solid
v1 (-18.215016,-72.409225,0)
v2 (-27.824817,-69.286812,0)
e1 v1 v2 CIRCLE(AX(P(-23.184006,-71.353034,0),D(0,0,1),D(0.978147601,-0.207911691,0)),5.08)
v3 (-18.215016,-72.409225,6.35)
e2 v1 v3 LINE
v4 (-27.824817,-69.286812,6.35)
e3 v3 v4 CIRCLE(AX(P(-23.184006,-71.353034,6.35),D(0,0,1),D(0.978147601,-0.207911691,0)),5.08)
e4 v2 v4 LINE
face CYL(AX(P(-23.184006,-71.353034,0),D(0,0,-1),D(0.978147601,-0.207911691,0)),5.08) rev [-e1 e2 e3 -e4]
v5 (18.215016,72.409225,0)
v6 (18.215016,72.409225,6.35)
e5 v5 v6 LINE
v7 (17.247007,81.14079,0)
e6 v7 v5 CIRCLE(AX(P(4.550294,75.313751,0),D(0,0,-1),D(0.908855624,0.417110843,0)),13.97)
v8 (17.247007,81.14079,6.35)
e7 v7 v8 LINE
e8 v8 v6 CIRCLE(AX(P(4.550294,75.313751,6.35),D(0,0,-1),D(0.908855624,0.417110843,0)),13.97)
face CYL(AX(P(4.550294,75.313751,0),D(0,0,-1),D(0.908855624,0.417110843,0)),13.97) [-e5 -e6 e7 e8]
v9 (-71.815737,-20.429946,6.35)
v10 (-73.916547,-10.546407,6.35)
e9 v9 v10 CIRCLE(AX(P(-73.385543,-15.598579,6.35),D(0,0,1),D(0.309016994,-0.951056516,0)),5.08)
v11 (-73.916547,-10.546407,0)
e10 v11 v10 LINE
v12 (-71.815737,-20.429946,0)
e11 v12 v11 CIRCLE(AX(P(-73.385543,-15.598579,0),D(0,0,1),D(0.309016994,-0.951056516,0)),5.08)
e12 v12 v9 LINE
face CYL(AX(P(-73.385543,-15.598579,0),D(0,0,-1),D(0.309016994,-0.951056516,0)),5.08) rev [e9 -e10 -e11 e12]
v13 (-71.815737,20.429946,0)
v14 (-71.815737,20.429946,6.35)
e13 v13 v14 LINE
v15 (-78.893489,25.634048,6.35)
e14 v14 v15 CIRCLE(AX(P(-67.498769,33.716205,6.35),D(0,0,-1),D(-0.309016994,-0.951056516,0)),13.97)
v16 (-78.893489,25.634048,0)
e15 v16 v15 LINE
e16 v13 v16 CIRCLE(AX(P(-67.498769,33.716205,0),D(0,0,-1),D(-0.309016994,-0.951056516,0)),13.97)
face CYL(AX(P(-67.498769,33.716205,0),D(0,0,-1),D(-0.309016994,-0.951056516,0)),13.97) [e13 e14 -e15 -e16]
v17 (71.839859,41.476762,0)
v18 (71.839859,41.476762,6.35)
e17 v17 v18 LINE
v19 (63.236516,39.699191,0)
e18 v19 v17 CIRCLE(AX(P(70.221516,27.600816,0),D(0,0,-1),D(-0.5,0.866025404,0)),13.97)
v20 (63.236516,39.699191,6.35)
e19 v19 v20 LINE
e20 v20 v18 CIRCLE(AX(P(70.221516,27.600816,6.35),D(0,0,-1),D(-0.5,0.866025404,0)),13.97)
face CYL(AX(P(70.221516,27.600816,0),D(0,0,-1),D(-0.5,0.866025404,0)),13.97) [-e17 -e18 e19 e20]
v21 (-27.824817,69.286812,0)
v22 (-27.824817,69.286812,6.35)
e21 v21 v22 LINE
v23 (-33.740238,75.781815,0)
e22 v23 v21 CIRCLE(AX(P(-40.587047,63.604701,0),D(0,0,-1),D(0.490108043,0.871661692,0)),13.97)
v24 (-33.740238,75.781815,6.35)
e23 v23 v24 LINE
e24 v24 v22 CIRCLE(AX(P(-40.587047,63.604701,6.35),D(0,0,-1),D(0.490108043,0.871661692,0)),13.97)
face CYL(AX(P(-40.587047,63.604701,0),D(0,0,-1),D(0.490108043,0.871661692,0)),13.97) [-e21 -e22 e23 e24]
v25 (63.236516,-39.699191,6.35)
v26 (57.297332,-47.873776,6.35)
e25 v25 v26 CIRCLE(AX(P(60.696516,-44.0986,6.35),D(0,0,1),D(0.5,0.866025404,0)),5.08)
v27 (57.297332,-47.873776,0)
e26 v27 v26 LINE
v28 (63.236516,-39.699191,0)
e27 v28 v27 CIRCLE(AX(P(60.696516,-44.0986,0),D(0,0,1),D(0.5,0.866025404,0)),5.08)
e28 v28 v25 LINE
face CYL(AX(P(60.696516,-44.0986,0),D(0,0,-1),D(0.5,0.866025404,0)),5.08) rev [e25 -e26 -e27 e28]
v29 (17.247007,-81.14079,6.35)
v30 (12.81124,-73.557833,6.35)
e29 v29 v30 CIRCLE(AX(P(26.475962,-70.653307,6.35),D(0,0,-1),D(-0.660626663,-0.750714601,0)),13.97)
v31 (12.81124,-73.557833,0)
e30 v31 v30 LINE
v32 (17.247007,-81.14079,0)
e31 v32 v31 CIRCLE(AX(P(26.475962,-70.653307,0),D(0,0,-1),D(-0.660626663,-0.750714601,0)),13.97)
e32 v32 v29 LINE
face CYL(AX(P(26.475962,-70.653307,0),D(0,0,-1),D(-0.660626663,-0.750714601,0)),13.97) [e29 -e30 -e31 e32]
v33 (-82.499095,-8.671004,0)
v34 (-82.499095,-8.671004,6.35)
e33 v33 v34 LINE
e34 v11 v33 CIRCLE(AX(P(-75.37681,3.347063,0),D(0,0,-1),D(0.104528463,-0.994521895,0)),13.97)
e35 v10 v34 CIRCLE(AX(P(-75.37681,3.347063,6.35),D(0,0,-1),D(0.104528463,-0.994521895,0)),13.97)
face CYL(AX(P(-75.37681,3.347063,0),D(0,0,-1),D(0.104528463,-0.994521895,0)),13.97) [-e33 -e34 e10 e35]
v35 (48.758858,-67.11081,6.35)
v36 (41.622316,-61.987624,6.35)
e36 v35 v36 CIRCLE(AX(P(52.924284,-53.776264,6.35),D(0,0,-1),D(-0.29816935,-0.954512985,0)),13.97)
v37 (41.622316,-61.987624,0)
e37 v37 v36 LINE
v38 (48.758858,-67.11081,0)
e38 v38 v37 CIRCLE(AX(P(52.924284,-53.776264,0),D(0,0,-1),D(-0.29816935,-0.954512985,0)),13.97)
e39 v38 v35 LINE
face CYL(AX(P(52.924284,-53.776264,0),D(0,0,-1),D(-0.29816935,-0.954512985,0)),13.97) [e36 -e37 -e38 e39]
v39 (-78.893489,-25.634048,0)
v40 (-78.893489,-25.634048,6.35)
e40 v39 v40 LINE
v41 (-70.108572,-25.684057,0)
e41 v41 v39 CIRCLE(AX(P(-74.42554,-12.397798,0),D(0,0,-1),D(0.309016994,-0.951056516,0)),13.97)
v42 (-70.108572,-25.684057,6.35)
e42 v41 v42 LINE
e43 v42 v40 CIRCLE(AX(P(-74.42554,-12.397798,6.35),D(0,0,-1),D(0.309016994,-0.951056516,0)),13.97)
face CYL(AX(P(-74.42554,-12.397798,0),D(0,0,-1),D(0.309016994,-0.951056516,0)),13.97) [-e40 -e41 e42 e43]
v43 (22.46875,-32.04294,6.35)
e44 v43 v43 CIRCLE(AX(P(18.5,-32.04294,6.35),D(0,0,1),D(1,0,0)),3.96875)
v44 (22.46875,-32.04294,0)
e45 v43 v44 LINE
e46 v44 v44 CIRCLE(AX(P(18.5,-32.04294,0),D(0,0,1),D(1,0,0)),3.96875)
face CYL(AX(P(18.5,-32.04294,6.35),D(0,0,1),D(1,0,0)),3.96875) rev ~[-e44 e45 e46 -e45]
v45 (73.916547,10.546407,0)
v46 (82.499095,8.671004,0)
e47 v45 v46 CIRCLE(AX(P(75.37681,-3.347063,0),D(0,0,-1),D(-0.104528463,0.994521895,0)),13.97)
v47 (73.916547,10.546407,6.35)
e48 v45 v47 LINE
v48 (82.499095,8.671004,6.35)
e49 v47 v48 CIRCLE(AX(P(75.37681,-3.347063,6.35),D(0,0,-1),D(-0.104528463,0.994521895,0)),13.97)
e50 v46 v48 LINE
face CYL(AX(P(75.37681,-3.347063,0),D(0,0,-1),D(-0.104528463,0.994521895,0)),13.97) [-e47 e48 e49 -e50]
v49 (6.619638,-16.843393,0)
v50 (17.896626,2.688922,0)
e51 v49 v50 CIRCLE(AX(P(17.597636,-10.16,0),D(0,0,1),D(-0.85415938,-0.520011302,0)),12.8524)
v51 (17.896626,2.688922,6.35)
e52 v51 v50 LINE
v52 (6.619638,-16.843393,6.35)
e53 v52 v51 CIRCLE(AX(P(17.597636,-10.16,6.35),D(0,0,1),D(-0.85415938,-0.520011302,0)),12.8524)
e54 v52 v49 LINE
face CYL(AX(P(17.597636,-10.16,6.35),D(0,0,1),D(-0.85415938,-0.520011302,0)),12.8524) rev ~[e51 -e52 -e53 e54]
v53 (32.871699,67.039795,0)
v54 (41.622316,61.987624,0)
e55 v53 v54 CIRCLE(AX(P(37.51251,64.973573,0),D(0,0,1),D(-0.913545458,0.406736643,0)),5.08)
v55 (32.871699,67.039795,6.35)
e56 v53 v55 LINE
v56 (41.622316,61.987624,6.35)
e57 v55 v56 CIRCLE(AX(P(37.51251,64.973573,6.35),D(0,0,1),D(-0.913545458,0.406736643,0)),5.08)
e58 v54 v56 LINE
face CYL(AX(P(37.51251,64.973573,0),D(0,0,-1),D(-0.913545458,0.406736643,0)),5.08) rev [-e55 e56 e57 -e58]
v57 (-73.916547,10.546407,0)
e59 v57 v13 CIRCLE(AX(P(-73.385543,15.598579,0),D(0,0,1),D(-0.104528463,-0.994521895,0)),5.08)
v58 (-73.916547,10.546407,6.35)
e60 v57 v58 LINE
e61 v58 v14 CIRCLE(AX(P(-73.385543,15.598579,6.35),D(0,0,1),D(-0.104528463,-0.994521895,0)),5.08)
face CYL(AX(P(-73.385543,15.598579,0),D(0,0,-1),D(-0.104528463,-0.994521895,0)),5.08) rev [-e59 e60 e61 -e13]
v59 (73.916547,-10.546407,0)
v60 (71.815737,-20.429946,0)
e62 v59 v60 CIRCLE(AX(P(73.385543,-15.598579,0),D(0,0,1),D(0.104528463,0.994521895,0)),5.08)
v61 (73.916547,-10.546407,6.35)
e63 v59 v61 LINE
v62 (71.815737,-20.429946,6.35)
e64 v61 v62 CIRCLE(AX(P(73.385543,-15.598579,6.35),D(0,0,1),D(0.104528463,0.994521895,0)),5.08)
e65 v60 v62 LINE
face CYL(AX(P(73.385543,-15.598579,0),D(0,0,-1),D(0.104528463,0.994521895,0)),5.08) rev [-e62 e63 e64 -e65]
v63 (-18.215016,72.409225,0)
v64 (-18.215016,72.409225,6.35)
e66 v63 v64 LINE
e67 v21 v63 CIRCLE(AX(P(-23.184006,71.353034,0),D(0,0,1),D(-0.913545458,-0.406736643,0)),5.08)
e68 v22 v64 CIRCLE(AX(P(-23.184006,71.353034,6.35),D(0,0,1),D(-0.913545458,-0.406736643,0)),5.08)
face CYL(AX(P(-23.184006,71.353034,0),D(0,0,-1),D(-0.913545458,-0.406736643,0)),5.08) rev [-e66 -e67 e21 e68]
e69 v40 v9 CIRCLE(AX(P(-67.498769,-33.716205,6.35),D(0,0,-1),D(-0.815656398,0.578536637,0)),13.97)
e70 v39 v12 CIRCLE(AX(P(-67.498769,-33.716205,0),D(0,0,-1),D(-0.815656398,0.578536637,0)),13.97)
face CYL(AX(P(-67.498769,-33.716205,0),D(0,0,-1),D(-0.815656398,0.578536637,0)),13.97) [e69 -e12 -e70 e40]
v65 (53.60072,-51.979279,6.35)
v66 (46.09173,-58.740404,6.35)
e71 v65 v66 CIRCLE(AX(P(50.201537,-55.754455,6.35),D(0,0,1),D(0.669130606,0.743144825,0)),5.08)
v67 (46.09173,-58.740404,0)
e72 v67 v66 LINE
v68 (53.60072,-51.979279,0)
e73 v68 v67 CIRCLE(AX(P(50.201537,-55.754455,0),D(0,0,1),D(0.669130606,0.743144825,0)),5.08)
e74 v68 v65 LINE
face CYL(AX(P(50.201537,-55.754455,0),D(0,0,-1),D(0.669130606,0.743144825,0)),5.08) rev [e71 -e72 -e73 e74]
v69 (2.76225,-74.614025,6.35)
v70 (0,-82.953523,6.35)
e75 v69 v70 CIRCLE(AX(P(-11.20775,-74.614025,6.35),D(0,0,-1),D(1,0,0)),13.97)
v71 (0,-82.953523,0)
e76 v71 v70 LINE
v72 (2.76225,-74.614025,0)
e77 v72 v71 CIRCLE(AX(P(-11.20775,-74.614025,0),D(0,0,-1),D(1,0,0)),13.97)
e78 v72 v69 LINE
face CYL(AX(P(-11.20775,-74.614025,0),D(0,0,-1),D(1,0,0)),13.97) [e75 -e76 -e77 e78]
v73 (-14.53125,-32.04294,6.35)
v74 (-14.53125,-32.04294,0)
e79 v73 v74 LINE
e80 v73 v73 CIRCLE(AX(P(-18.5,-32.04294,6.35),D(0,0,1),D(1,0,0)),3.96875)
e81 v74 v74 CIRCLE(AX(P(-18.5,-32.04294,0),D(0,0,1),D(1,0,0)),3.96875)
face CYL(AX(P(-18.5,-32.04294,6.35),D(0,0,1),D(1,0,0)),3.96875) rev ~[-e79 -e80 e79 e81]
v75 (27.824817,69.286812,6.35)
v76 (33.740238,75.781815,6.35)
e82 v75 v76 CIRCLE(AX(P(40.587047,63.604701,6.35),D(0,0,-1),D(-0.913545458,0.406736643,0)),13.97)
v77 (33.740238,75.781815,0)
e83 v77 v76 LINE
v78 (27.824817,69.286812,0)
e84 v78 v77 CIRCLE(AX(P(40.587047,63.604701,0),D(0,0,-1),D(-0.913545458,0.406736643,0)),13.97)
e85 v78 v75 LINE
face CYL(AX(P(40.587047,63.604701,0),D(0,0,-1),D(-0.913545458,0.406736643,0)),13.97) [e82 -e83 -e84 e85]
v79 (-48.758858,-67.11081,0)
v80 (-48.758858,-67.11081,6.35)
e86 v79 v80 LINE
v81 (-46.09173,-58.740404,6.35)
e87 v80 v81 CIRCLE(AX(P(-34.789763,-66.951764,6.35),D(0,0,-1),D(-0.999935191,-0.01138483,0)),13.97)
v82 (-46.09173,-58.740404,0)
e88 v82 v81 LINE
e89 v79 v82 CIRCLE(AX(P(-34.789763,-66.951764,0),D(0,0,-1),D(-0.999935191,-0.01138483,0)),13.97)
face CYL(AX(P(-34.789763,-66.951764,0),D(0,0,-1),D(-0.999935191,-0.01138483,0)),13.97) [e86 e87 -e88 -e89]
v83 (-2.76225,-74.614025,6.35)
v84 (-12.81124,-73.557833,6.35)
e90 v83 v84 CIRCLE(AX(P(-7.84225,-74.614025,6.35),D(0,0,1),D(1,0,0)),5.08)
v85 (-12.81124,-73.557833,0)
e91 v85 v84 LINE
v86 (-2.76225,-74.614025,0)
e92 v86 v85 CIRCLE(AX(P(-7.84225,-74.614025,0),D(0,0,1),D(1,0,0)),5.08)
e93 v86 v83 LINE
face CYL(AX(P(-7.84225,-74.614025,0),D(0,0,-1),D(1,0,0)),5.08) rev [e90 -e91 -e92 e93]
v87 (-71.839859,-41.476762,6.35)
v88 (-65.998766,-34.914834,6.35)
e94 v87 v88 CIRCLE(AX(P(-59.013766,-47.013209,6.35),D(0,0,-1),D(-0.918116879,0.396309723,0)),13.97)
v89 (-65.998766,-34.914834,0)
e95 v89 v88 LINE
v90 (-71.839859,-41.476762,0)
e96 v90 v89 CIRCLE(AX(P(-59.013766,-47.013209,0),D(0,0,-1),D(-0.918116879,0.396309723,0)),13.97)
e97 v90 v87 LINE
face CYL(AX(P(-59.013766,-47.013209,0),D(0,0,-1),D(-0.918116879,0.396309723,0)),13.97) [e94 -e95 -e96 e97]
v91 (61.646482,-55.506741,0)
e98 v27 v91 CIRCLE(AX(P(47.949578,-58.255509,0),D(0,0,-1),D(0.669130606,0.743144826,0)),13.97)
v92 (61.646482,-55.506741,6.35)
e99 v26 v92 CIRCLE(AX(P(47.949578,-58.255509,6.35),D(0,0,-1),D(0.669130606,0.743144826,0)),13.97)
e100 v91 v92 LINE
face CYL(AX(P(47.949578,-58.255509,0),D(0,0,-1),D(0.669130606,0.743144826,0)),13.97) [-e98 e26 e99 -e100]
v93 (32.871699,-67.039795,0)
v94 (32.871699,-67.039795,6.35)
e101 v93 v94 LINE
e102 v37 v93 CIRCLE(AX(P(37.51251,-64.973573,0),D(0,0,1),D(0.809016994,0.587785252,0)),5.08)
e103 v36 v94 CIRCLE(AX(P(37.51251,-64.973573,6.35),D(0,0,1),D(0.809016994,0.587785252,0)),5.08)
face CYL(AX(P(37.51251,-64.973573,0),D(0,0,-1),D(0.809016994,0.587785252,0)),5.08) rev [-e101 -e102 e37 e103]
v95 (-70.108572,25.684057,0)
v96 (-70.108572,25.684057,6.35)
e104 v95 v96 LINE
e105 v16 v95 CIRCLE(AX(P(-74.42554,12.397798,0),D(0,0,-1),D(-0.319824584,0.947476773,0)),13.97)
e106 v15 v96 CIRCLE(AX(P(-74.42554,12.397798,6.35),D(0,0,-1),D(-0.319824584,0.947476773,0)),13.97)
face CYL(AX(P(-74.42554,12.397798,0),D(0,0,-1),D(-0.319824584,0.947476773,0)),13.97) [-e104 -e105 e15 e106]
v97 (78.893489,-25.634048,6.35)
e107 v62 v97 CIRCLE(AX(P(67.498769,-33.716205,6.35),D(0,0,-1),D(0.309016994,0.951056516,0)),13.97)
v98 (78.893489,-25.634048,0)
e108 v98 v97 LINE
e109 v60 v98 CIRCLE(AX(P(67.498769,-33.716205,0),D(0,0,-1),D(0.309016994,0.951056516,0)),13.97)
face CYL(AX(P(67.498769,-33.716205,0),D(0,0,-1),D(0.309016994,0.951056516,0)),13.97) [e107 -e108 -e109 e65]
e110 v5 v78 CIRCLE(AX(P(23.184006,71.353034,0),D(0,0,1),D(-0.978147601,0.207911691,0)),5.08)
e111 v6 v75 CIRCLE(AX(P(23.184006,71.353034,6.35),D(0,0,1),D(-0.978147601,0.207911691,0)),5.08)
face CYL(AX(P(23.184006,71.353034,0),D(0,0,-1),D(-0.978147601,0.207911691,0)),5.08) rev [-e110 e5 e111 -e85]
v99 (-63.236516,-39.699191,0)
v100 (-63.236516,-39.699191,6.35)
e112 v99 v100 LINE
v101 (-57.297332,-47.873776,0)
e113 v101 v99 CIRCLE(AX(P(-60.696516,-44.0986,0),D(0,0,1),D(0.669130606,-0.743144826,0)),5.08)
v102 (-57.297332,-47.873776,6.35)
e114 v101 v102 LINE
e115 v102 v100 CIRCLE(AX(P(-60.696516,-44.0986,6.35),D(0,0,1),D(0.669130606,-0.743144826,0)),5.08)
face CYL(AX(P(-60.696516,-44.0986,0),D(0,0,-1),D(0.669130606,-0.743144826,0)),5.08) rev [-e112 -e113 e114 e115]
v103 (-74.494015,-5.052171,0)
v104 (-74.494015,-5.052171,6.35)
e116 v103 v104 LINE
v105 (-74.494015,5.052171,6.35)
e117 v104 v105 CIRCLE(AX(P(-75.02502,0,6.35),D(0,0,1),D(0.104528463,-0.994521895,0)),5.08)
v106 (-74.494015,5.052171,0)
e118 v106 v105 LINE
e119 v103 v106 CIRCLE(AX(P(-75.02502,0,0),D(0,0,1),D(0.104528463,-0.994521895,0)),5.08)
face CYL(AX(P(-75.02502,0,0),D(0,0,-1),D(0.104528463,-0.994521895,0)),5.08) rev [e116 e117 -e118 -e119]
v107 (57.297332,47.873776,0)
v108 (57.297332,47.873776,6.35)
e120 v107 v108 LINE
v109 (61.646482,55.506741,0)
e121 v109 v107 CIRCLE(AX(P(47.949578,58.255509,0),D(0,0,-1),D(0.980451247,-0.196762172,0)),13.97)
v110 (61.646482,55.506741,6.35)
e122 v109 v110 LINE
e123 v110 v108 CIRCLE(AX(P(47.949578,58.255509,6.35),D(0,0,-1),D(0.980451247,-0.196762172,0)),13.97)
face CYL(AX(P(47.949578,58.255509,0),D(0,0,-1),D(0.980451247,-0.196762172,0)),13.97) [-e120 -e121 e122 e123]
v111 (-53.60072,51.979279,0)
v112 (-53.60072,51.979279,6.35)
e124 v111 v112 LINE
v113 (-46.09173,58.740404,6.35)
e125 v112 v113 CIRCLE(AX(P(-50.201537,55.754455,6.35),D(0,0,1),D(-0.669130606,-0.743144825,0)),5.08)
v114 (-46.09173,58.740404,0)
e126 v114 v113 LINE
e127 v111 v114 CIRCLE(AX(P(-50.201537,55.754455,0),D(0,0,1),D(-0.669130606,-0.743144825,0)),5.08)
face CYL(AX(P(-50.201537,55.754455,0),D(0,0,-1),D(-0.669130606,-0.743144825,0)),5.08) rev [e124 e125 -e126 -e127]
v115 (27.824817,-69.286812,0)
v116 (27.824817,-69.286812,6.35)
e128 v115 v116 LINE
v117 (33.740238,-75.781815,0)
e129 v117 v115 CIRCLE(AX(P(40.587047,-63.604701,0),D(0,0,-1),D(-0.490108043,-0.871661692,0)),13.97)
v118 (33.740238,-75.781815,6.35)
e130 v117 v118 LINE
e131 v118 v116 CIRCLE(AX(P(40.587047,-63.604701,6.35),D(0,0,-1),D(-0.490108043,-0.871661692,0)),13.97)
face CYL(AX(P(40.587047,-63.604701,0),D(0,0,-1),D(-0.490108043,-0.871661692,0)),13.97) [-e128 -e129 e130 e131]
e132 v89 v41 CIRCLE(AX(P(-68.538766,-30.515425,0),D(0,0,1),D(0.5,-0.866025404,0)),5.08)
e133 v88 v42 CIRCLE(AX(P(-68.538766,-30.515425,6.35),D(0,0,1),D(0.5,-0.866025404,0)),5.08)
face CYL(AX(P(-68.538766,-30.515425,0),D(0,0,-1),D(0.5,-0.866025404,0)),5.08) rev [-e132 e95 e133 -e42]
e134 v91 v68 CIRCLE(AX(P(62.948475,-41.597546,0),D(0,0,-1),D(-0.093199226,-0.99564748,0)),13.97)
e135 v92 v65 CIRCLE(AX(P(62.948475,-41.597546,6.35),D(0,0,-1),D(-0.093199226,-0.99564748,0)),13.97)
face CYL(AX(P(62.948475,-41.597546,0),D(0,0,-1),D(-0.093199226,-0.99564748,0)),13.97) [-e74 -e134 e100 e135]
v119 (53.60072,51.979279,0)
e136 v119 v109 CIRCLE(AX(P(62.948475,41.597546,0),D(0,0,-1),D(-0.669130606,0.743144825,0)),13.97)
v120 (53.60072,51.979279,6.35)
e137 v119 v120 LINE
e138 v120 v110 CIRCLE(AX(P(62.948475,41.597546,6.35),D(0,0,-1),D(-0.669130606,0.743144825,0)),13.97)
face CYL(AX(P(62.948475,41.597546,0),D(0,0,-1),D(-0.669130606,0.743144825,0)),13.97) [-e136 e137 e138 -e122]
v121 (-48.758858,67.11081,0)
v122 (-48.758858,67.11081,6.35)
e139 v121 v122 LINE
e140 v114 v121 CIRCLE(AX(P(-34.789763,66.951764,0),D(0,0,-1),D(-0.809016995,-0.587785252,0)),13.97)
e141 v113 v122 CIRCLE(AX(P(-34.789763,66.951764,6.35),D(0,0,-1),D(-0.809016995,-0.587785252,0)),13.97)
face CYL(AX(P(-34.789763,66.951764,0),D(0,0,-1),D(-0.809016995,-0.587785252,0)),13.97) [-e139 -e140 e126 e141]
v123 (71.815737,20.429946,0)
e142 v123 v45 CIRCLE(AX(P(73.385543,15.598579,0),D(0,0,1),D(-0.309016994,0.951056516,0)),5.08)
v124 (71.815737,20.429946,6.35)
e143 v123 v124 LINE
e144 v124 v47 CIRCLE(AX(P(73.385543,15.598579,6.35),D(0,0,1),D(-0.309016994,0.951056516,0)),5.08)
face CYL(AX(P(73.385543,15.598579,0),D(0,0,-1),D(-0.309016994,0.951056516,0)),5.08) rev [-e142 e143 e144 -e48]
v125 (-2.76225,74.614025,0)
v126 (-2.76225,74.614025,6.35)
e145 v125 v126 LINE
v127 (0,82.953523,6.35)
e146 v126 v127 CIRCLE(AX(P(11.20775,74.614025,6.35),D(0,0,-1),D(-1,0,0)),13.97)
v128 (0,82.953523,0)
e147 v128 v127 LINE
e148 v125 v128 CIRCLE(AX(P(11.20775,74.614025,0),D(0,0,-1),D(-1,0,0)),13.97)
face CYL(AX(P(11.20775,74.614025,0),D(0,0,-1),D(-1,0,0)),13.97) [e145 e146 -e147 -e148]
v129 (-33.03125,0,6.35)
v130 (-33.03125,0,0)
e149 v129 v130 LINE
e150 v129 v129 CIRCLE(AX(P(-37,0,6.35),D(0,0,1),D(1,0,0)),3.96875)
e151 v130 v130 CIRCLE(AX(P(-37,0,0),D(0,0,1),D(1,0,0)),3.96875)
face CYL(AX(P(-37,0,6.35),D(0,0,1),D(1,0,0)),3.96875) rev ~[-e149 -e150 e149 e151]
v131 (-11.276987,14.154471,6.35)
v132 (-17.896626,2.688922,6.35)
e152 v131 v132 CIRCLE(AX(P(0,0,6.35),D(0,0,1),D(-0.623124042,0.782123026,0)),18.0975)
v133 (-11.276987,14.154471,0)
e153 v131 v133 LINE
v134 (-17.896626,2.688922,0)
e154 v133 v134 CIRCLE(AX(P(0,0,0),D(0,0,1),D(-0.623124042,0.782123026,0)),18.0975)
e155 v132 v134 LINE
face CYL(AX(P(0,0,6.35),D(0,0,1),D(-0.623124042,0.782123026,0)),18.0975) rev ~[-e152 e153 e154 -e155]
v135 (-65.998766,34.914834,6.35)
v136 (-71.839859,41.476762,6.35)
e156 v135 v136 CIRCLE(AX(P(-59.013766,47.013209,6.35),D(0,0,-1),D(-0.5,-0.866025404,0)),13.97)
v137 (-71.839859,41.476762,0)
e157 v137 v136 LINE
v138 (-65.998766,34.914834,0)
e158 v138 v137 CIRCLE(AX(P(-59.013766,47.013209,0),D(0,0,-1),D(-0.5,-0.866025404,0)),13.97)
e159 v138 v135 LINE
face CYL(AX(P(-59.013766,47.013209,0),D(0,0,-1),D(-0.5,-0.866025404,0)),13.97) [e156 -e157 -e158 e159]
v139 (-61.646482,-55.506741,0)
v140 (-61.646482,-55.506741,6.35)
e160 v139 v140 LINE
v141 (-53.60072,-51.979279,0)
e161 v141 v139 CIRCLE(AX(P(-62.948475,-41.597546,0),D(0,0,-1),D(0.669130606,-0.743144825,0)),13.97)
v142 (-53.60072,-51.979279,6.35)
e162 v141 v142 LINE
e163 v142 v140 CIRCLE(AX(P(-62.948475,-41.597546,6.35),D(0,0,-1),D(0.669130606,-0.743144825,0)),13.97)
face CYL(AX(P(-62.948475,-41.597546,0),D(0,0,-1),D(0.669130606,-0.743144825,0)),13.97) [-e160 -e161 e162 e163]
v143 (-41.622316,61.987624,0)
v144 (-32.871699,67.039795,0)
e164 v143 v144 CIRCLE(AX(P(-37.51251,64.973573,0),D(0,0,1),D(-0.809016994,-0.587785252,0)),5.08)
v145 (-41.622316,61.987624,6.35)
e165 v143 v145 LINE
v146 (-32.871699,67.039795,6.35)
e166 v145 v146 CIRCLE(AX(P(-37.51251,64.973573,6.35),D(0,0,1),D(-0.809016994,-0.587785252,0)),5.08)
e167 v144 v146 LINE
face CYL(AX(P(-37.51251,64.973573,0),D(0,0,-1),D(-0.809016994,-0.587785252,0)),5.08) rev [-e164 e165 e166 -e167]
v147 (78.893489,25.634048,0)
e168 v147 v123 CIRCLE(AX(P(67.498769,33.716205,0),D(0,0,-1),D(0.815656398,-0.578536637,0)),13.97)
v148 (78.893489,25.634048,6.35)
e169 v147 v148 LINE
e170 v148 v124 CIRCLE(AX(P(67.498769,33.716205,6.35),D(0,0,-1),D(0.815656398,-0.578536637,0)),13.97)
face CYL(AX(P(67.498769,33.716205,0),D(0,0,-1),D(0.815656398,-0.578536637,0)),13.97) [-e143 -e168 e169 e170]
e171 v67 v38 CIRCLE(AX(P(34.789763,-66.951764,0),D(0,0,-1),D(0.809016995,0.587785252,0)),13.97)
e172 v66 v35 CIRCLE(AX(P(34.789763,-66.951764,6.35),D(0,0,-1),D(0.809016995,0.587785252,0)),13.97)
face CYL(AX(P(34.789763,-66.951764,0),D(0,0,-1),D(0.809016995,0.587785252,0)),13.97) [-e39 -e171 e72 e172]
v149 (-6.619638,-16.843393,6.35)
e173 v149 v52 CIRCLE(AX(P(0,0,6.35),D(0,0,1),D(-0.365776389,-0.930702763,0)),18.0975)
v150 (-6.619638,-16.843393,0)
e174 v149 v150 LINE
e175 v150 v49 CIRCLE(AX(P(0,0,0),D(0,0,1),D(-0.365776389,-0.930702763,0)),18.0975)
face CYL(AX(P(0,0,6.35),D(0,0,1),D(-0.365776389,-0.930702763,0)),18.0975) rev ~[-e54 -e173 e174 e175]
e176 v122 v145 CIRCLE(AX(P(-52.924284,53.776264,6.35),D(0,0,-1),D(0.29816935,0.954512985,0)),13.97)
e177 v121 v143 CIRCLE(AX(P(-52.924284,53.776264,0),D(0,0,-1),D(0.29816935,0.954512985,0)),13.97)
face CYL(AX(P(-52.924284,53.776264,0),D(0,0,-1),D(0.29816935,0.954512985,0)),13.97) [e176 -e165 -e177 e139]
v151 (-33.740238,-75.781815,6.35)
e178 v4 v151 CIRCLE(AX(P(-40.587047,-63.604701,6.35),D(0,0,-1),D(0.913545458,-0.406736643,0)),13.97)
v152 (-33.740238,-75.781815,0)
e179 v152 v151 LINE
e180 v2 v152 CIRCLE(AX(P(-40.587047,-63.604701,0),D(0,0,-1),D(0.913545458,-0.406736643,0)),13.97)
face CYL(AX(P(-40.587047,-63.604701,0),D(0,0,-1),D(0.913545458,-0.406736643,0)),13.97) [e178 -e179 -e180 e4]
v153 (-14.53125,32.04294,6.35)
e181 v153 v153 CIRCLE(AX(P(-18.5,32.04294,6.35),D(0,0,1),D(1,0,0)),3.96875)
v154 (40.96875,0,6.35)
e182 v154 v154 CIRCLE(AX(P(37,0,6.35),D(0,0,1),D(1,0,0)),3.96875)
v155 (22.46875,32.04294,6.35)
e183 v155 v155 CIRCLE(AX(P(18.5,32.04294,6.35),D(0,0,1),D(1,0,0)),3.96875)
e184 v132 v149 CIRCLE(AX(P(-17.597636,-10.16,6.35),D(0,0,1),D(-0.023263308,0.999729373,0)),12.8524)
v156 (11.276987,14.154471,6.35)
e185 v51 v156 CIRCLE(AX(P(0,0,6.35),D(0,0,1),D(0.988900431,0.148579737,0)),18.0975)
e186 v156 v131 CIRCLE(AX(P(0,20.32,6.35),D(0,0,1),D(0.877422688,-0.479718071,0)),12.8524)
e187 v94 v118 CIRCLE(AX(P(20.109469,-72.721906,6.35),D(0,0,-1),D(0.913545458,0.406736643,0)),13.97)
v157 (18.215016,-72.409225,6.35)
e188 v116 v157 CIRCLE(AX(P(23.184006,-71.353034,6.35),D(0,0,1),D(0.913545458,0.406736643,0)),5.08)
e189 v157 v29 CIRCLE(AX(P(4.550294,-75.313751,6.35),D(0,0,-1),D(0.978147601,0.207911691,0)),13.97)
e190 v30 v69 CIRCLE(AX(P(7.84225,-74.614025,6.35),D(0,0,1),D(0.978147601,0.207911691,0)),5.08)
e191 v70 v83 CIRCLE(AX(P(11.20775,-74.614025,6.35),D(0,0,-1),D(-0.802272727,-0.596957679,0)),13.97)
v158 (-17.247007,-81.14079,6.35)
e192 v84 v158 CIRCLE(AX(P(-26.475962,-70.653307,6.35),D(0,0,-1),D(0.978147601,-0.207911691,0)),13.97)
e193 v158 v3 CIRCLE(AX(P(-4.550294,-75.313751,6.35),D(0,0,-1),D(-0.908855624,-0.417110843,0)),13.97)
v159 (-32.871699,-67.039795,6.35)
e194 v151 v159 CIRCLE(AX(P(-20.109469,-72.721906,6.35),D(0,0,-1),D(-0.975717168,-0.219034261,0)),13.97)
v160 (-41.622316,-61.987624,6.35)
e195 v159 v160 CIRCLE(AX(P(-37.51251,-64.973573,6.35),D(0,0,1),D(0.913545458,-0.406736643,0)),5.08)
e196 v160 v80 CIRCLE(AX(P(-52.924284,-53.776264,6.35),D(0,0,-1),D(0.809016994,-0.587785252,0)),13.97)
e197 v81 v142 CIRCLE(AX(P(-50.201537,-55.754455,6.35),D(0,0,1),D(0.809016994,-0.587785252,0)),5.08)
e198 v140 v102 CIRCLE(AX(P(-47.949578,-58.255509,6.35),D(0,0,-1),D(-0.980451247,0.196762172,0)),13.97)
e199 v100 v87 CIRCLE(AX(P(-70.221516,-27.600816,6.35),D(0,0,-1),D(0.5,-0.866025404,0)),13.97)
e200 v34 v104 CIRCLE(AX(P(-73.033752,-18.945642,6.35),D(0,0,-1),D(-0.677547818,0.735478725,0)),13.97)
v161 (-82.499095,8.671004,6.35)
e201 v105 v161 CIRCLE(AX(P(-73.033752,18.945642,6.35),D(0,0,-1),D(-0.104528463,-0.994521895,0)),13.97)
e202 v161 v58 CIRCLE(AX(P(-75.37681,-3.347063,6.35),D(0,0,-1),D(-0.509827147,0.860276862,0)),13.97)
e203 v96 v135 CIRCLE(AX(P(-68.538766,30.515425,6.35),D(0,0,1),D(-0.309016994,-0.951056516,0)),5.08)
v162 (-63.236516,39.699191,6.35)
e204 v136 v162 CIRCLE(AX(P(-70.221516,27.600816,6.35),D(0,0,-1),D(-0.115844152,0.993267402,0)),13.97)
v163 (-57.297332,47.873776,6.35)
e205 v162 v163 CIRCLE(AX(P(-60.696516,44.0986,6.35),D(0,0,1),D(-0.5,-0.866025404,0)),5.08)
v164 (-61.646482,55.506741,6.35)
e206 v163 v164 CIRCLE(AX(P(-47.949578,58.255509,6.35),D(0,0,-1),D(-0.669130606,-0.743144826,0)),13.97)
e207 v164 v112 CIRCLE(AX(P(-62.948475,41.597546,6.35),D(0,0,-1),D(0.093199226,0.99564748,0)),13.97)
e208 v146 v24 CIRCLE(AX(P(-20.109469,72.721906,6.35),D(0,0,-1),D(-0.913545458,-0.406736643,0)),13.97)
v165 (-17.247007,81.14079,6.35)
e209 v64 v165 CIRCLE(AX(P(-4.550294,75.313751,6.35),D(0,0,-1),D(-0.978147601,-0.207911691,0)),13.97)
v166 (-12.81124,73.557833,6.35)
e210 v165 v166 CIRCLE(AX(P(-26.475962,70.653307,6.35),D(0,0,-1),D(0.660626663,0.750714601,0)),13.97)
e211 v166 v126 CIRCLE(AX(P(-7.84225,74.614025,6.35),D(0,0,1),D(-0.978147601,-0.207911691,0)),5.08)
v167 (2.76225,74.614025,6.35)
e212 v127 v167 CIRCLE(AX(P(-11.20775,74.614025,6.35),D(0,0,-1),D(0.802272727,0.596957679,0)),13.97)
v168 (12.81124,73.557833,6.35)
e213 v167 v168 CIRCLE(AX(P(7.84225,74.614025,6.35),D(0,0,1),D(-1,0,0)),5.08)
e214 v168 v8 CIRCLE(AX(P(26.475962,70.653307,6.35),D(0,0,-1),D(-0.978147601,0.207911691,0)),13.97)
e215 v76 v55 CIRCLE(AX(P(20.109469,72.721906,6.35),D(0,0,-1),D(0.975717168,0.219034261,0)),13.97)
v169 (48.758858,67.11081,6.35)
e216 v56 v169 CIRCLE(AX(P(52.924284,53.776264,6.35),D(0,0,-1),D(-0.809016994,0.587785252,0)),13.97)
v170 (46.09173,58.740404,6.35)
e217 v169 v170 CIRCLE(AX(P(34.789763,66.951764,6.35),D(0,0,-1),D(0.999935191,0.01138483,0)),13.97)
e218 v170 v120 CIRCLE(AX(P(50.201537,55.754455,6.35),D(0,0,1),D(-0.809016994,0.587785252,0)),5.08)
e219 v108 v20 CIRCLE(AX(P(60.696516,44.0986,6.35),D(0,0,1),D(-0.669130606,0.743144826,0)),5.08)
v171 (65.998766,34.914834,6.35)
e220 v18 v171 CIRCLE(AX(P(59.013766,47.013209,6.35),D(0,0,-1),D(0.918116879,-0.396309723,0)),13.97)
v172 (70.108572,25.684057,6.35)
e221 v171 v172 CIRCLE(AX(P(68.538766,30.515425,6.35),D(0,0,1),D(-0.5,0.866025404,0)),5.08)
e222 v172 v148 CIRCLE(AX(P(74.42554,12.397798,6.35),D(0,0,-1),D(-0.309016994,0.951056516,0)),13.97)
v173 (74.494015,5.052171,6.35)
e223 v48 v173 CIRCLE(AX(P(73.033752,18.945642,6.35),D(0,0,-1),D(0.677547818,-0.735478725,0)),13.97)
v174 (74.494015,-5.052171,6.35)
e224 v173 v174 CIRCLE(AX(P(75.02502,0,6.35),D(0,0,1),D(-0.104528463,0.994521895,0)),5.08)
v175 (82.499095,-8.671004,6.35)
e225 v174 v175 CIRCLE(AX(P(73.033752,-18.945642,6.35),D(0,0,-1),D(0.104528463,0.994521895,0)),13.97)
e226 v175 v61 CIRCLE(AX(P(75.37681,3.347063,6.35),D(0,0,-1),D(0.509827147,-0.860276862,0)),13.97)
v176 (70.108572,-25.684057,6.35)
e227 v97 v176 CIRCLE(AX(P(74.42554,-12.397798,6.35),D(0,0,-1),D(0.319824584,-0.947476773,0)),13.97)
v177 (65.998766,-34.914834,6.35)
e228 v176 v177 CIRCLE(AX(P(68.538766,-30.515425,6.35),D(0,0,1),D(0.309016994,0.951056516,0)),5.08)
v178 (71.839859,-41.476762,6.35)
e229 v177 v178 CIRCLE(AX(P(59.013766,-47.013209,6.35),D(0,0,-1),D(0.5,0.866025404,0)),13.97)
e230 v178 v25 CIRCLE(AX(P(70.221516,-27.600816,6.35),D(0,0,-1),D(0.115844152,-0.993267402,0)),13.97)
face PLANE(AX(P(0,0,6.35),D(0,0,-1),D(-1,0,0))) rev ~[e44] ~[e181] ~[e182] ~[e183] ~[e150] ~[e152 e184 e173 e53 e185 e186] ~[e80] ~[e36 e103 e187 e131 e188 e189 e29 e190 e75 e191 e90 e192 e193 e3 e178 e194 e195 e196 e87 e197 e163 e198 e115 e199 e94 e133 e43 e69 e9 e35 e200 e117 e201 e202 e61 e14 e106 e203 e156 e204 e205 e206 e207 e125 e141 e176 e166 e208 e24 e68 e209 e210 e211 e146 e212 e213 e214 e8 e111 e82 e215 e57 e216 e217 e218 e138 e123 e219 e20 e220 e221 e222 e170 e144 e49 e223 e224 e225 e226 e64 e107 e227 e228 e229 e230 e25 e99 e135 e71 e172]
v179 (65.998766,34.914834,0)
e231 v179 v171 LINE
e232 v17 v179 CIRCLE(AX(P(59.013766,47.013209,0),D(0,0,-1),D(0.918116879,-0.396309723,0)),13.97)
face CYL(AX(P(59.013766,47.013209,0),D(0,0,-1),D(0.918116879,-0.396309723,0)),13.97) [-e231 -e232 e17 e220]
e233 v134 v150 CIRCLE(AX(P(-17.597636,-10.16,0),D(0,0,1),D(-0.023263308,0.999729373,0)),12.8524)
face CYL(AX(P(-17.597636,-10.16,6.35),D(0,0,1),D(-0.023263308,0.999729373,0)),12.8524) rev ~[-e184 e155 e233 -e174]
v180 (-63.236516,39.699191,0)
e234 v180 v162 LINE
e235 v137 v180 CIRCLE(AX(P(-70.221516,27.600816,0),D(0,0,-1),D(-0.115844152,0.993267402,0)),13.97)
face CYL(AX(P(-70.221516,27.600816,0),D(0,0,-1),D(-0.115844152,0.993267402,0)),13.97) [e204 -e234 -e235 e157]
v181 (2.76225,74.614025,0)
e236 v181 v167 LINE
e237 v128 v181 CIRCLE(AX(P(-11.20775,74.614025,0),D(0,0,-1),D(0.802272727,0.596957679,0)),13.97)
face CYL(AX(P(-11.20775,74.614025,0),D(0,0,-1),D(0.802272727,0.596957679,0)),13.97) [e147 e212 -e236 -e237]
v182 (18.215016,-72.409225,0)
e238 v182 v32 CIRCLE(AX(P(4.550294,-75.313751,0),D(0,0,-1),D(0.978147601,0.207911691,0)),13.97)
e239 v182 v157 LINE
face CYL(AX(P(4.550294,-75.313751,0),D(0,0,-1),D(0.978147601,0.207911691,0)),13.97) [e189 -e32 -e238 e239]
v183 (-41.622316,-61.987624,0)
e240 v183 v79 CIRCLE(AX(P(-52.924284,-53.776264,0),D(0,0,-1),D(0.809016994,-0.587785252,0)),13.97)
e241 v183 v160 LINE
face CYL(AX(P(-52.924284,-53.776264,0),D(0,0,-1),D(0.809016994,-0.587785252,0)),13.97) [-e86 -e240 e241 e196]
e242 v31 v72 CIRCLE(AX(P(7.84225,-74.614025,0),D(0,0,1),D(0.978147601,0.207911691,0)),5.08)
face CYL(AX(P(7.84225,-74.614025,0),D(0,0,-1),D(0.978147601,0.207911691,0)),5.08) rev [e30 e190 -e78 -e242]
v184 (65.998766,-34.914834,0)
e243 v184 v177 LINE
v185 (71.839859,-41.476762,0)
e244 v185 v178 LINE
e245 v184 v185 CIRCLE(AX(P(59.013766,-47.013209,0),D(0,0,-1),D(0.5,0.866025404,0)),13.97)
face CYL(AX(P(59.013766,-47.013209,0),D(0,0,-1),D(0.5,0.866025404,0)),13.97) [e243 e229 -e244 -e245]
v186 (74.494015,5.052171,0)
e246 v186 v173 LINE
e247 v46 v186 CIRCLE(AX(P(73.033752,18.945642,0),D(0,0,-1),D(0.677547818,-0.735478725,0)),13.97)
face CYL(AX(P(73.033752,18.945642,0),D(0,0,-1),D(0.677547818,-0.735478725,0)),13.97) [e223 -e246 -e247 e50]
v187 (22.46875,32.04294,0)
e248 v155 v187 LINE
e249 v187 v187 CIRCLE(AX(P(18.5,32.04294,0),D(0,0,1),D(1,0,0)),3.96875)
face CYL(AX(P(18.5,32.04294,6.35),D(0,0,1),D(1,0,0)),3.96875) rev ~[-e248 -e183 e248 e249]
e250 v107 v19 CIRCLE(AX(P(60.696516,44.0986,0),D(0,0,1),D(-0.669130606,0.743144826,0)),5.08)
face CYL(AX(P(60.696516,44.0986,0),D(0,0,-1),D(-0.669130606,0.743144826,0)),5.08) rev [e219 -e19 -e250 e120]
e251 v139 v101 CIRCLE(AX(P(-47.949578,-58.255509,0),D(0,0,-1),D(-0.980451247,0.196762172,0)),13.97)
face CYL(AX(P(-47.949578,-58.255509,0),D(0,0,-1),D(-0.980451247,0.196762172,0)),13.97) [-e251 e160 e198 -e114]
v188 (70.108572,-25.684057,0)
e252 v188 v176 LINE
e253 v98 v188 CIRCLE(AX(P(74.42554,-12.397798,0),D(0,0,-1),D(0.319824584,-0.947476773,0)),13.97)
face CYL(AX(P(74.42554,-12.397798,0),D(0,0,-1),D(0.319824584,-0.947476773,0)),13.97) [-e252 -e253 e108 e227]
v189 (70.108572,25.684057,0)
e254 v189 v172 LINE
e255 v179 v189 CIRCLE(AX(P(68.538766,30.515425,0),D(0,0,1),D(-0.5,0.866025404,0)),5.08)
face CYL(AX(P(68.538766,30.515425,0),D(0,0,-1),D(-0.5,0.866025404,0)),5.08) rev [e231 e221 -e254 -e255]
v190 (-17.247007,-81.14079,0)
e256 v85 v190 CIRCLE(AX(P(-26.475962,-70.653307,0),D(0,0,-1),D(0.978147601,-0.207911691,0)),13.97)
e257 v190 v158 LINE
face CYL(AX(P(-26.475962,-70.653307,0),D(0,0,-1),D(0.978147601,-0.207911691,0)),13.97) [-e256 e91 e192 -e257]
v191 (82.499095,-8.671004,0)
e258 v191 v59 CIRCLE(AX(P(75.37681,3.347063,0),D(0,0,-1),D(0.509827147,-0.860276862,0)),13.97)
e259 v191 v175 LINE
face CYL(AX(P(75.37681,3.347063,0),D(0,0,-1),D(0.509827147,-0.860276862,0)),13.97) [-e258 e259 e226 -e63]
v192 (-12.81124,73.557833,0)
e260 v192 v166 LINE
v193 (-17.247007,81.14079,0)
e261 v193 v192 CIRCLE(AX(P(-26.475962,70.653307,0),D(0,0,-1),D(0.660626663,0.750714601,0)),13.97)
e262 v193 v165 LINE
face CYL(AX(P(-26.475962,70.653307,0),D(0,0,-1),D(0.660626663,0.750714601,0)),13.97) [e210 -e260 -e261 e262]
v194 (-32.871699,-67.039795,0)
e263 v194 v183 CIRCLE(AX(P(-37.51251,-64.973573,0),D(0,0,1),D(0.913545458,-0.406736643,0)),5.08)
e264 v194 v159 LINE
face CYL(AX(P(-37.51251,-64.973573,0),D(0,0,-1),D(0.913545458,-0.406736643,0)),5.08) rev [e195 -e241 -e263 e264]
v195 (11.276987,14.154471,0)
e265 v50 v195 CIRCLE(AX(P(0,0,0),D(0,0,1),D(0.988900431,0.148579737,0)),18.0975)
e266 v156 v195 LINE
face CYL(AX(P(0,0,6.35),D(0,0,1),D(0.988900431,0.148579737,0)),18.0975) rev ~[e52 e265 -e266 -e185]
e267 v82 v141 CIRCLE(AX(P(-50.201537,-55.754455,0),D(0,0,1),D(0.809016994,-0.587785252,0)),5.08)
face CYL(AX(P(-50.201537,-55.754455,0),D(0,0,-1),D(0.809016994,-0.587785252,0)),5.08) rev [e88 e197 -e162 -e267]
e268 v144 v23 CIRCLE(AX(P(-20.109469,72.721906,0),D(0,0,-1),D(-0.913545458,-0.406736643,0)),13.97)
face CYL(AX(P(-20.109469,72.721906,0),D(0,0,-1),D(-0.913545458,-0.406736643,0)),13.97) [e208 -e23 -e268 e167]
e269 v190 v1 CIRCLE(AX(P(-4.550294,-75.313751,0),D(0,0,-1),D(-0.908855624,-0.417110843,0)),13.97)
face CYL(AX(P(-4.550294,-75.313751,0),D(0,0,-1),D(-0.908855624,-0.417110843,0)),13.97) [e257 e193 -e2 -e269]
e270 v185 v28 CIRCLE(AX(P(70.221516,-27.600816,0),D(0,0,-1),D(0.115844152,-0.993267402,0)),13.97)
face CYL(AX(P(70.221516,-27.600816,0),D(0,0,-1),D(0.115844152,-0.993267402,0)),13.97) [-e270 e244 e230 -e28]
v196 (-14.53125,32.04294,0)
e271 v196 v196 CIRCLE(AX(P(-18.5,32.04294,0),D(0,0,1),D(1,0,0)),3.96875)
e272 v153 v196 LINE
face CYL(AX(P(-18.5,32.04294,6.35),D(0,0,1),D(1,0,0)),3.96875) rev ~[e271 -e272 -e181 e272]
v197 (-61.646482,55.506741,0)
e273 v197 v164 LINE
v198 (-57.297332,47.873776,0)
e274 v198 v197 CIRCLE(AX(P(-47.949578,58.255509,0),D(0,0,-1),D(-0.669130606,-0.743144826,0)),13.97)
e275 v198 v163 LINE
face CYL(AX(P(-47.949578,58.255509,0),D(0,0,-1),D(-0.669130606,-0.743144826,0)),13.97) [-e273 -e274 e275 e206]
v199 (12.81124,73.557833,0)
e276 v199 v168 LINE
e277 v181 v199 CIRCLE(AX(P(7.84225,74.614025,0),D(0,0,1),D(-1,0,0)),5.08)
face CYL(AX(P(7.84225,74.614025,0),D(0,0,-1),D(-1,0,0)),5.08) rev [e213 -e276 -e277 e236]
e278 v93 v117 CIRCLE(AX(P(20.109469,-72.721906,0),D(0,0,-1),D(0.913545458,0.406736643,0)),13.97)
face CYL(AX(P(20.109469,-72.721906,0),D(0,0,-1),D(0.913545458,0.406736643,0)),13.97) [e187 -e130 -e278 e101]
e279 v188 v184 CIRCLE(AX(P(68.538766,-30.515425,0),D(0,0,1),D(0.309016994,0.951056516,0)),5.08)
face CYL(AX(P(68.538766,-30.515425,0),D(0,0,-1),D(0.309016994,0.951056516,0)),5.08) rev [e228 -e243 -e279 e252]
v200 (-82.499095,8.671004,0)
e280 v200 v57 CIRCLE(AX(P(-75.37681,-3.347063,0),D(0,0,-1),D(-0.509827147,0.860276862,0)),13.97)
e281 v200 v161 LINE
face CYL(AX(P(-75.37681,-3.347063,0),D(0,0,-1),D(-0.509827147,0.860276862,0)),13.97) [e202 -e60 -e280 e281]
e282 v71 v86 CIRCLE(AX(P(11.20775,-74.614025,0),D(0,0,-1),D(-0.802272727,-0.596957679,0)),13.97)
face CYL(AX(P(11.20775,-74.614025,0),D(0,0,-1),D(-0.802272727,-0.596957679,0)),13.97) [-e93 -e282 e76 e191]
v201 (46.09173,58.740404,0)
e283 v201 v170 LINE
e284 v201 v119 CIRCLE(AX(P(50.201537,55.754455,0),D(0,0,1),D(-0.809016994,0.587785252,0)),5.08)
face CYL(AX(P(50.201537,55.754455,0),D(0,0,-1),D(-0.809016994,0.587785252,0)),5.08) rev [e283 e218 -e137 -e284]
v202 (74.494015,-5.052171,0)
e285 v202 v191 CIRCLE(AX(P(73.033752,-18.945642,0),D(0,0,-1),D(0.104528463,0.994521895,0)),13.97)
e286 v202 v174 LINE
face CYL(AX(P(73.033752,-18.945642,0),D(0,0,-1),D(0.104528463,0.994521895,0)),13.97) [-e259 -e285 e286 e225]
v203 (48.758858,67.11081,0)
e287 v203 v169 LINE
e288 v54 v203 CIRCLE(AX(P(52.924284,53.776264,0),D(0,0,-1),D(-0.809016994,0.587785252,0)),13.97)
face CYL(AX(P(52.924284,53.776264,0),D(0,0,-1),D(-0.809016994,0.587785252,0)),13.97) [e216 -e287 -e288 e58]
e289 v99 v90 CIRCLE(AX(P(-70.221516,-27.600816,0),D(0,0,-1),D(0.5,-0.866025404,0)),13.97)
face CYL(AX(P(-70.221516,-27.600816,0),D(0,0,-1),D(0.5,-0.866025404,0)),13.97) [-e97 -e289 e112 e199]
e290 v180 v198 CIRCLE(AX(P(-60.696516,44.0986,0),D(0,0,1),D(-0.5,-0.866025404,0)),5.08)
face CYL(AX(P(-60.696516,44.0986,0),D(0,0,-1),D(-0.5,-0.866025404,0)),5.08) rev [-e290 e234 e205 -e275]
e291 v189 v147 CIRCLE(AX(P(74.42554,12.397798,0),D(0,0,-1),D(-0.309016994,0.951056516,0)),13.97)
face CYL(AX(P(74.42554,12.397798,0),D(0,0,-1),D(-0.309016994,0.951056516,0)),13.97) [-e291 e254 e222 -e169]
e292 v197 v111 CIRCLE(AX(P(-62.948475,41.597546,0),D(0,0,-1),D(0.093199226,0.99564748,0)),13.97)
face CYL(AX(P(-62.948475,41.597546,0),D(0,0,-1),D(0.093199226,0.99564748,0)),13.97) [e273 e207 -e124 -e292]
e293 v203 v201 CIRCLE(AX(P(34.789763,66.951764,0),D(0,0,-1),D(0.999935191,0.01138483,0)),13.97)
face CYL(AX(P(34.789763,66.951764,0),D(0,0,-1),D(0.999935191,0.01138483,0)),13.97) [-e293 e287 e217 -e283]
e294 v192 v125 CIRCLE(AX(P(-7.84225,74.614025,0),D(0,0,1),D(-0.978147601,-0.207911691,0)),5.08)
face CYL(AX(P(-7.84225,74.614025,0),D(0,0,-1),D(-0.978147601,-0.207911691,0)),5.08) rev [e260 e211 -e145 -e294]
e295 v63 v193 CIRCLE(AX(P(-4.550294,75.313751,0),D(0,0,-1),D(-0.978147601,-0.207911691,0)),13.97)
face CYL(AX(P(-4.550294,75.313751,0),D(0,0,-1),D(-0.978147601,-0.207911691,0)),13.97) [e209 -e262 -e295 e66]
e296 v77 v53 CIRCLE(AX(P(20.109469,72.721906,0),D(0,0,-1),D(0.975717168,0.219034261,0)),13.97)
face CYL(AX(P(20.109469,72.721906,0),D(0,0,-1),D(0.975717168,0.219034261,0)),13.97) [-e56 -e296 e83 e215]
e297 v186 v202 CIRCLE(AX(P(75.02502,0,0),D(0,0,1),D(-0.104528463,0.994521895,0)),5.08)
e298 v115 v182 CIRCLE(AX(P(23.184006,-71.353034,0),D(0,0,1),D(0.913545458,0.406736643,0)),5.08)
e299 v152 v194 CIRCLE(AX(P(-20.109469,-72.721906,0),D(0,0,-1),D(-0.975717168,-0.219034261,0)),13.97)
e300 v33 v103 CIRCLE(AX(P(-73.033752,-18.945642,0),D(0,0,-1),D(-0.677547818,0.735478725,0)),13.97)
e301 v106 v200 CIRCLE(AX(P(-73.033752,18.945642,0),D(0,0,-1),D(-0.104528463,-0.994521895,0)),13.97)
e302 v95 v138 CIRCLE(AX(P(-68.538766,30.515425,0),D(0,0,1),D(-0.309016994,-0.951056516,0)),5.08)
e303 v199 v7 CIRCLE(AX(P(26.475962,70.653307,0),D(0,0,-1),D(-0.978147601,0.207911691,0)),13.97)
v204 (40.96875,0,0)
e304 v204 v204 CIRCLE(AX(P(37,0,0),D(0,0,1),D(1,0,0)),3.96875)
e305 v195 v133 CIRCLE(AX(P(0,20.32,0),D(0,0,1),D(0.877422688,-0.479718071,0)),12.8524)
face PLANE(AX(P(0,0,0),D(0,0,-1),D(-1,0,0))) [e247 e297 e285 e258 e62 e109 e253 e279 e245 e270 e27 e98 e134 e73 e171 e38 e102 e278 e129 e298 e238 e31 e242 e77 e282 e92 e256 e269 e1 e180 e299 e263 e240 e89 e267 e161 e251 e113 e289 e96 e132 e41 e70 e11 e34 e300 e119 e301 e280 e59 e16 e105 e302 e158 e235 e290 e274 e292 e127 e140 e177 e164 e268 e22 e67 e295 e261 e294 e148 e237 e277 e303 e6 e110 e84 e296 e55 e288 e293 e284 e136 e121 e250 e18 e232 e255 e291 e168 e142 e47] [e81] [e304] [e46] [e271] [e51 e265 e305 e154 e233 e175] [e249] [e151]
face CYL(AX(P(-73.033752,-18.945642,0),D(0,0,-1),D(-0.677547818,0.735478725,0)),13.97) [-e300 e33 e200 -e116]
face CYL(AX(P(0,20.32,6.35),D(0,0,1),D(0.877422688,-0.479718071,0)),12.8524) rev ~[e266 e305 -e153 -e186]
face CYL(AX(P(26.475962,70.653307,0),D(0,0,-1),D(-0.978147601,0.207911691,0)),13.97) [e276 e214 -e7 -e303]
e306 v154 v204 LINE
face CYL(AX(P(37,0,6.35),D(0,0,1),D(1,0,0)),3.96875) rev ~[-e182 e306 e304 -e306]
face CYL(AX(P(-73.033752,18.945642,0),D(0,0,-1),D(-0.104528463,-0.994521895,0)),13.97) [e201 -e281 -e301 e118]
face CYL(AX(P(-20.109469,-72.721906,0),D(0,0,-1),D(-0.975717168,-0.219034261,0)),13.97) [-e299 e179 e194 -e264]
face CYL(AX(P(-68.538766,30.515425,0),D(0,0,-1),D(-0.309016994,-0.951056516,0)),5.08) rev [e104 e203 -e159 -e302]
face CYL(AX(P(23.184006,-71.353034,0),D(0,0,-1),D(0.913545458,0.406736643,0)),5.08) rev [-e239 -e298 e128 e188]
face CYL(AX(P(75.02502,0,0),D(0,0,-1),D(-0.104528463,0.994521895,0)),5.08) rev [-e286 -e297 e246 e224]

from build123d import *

# Parameters (mm, degrees)
BOSS_EXTRUDE1_DEPTH = 6.35
SKETCH2_R           = 3.96875
CUT_EXTRUDE1_DEPTH  = 118.165311767


with BuildPart() as part:
    # Sketch1 → Boss-Extrude1 (new body)
    with BuildSketch(Plane.XY):
        with BuildLine():
            ThreePointArc((-2.76225, 74.614024644), (-2.053719894, 79.00655424), (0, 82.953523426))
            ThreePointArc((0, 82.953523426), (2.053719894, 79.00655424), (2.76225, 74.614024644))
            ThreePointArc((2.76225, 74.614024644), (7.311245407, 69.561853415), (12.811239812, 73.557833254))
            ThreePointArc((12.811239812, 73.557833254), (14.417545091, 77.707063847), (17.247007315, 81.140789912))
            ThreePointArc((17.247007315, 81.140789912), (18.435227465, 76.853079096), (18.215016233, 72.409225119))
            ThreePointArc((18.215016233, 72.409225119), (21.614199713, 66.521666626), (27.82481697, 69.286811582))
            ThreePointArc((27.82481697, 69.286811582), (30.258694172, 73.011401885), (33.74023765, 75.781814521))
            ThreePointArc((33.74023765, 75.781814521), (34.011027133, 71.340755614), (32.87169885, 67.039794998))
            ThreePointArc((32.87169885, 67.039794998), (34.972509775, 60.574163799), (41.622316107, 61.987623769))
            ThreePointArc((41.622316107, 61.987623769), (44.777393121, 65.124791313), (48.758857695, 67.110810195))
            ThreePointArc((48.758857695, 67.110810195), (48.100381712, 62.710498781), (46.091730493, 58.740404142))
            ThreePointArc((46.091730493, 58.740404142), (46.802353344, 51.979279347), (53.600720305, 51.979279347))
            ThreePointArc((53.600720305, 51.979279347), (57.339105124, 54.391914857), (61.646481689, 55.50674143))
            ThreePointArc((61.646481689, 55.50674143), (60.0875188, 51.339492232), (57.29733234, 47.873775759))
            ThreePointArc((57.29733234, 47.873775759), (56.586709488, 41.112650963), (63.23651582, 39.699190994))
            ThreePointArc((63.23651582, 39.699190994), (67.39482309, 41.28185072), (71.83985862, 41.476761713))
            ThreePointArc((71.83985862, 41.476761713), (69.448542984, 37.724703519), (65.99876582, 34.91483365))
            ThreePointArc((65.99876582, 34.91483365), (63.897954895, 28.449202452), (70.108572152, 25.684057496))
            ThreePointArc((70.108572152, 25.684057496), (74.505063891, 26.367571615), (78.893489004, 25.634048482))
            ThreePointArc((78.893489004, 25.634048482), (75.774332589, 22.461164239), (71.815736537, 20.429945772))
            ThreePointArc((71.815736537, 20.429945772), (68.416553057, 14.542387279), (73.916547462, 10.54640744))
            ThreePointArc((73.916547462, 10.54640744), (78.359075884, 10.300903104), (82.499095345, 8.671004326))
            ThreePointArc((82.499095345, 8.671004326), (78.788420253, 6.215964301), (74.494014958, 5.052171229))
            ThreePointArc((74.494014958, 5.052171229), (69.945019551, 0), (74.494014958, -5.052171229))
            ThreePointArc((74.494014958, -5.052171229), (78.788420253, -6.215964301), (82.499095345, -8.671004326))
            ThreePointArc((82.499095345, -8.671004326), (78.359075884, -10.300903104), (73.916547462, -10.54640744))
            ThreePointArc((73.916547462, -10.54640744), (68.416553057, -14.542387279), (71.815736537, -20.429945772))
            ThreePointArc((71.815736537, -20.429945772), (75.774332589, -22.461164239), (78.893489004, -25.634048482))
            ThreePointArc((78.893489004, -25.634048482), (74.505063891, -26.367571615), (70.108572152, -25.684057496))
            ThreePointArc((70.108572152, -25.684057496), (63.897954895, -28.449202452), (65.99876582, -34.91483365))
            ThreePointArc((65.99876582, -34.91483365), (69.448542984, -37.724703519), (71.83985862, -41.476761713))
            ThreePointArc((71.83985862, -41.476761713), (67.39482309, -41.28185072), (63.23651582, -39.699190994))
            ThreePointArc((63.23651582, -39.699190994), (56.586709488, -41.112650963), (57.29733234, -47.873775759))
            ThreePointArc((57.29733234, -47.873775759), (60.0875188, -51.339492232), (61.646481689, -55.50674143))
            ThreePointArc((61.646481689, -55.50674143), (57.339105124, -54.391914857), (53.600720305, -51.979279347))
            ThreePointArc((53.600720305, -51.979279347), (46.802353344, -51.979279347), (46.091730493, -58.740404142))
            ThreePointArc((46.091730493, -58.740404142), (48.100381712, -62.710498781), (48.758857695, -67.110810195))
            ThreePointArc((48.758857695, -67.110810195), (44.777393121, -65.124791313), (41.622316107, -61.987623769))
            ThreePointArc((41.622316107, -61.987623769), (34.972509775, -60.574163799), (32.87169885, -67.039794998))
            ThreePointArc((32.87169885, -67.039794998), (34.011027133, -71.340755614), (33.74023765, -75.781814521))
            ThreePointArc((33.74023765, -75.781814521), (30.258694172, -73.011401885), (27.82481697, -69.286811582))
            ThreePointArc((27.82481697, -69.286811582), (21.614199713, -66.521666626), (18.215016233, -72.409225119))
            ThreePointArc((18.215016233, -72.409225119), (18.435227465, -76.853079096), (17.247007315, -81.140789912))
            ThreePointArc((17.247007315, -81.140789912), (14.417545091, -77.707063847), (12.811239812, -73.557833254))
            ThreePointArc((12.811239812, -73.557833254), (7.311245407, -69.561853415), (2.76225, -74.614024644))
            ThreePointArc((2.76225, -74.614024644), (2.053719894, -79.00655424), (0, -82.953523426))
            ThreePointArc((0, -82.953523426), (-2.053719894, -79.00655424), (-2.76225, -74.614024644))
            ThreePointArc((-2.76225, -74.614024644), (-7.311245407, -69.561853415), (-12.811239812, -73.557833254))
            ThreePointArc((-12.811239812, -73.557833254), (-14.417545091, -77.707063847), (-17.247007315, -81.140789912))
            ThreePointArc((-17.247007315, -81.140789912), (-18.435227465, -76.853079096), (-18.215016233, -72.409225119))
            ThreePointArc((-18.215016233, -72.409225119), (-21.614199713, -66.521666626), (-27.82481697, -69.286811582))
            ThreePointArc((-27.82481697, -69.286811582), (-30.258694172, -73.011401885), (-33.74023765, -75.781814521))
            ThreePointArc((-33.74023765, -75.781814521), (-34.011027133, -71.340755614), (-32.87169885, -67.039794998))
            ThreePointArc((-32.87169885, -67.039794998), (-34.972509775, -60.574163799), (-41.622316107, -61.987623769))
            ThreePointArc((-41.622316107, -61.987623769), (-44.777393121, -65.124791313), (-48.758857695, -67.110810195))
            ThreePointArc((-48.758857695, -67.110810195), (-48.100381712, -62.710498781), (-46.091730493, -58.740404142))
            ThreePointArc((-46.091730493, -58.740404142), (-46.802353344, -51.979279347), (-53.600720305, -51.979279347))
            ThreePointArc((-53.600720305, -51.979279347), (-57.339105124, -54.391914857), (-61.646481689, -55.50674143))
            ThreePointArc((-61.646481689, -55.50674143), (-60.0875188, -51.339492232), (-57.29733234, -47.873775759))
            ThreePointArc((-57.29733234, -47.873775759), (-56.586709488, -41.112650963), (-63.23651582, -39.699190994))
            ThreePointArc((-63.23651582, -39.699190994), (-67.39482309, -41.28185072), (-71.83985862, -41.476761713))
            ThreePointArc((-71.83985862, -41.476761713), (-69.448542984, -37.724703519), (-65.99876582, -34.91483365))
            ThreePointArc((-65.99876582, -34.91483365), (-63.897954895, -28.449202452), (-70.108572152, -25.684057496))
            ThreePointArc((-70.108572152, -25.684057496), (-74.505063891, -26.367571615), (-78.893489004, -25.634048482))
            ThreePointArc((-78.893489004, -25.634048482), (-75.774332589, -22.461164239), (-71.815736537, -20.429945772))
            ThreePointArc((-71.815736537, -20.429945772), (-68.416553057, -14.542387279), (-73.916547462, -10.54640744))
            ThreePointArc((-73.916547462, -10.54640744), (-78.359075884, -10.300903104), (-82.499095345, -8.671004326))
            ThreePointArc((-82.499095345, -8.671004326), (-78.788420253, -6.215964301), (-74.494014958, -5.052171229))
            ThreePointArc((-74.494014958, -5.052171229), (-69.945019551, 0), (-74.494014958, 5.052171229))
            ThreePointArc((-74.494014958, 5.052171229), (-78.788420253, 6.215964301), (-82.499095345, 8.671004326))
            ThreePointArc((-82.499095345, 8.671004326), (-78.359075884, 10.300903104), (-73.916547462, 10.54640744))
            ThreePointArc((-73.916547462, 10.54640744), (-68.416553057, 14.542387279), (-71.815736537, 20.429945772))
            ThreePointArc((-71.815736537, 20.429945772), (-75.774332589, 22.461164239), (-78.893489004, 25.634048482))
            ThreePointArc((-78.893489004, 25.634048482), (-74.505063891, 26.367571615), (-70.108572152, 25.684057496))
            ThreePointArc((-70.108572152, 25.684057496), (-63.897954895, 28.449202452), (-65.99876582, 34.91483365))
            ThreePointArc((-65.99876582, 34.91483365), (-69.448542984, 37.724703519), (-71.83985862, 41.476761713))
            ThreePointArc((-71.83985862, 41.476761713), (-67.39482309, 41.28185072), (-63.23651582, 39.699190994))
            ThreePointArc((-63.23651582, 39.699190994), (-56.586709488, 41.112650963), (-57.29733234, 47.873775759))
            ThreePointArc((-57.29733234, 47.873775759), (-60.0875188, 51.339492232), (-61.646481689, 55.50674143))
            ThreePointArc((-61.646481689, 55.50674143), (-57.339105124, 54.391914857), (-53.600720305, 51.979279347))
            ThreePointArc((-53.600720305, 51.979279347), (-46.802353344, 51.979279347), (-46.091730493, 58.740404142))
            ThreePointArc((-46.091730493, 58.740404142), (-48.100381712, 62.710498781), (-48.758857695, 67.110810195))
            ThreePointArc((-48.758857695, 67.110810195), (-44.777393121, 65.124791313), (-41.622316107, 61.987623769))
            ThreePointArc((-41.622316107, 61.987623769), (-34.972509775, 60.574163799), (-32.87169885, 67.039794998))
            ThreePointArc((-32.87169885, 67.039794998), (-34.011027133, 71.340755614), (-33.74023765, 75.781814521))
            ThreePointArc((-33.74023765, 75.781814521), (-30.258694172, 73.011401885), (-27.82481697, 69.286811582))
            ThreePointArc((-27.82481697, 69.286811582), (-21.614199713, 66.521666626), (-18.215016233, 72.409225119))
            ThreePointArc((-18.215016233, 72.409225119), (-18.435227465, 76.853079096), (-17.247007315, 81.140789912))
            ThreePointArc((-17.247007315, 81.140789912), (-14.417545091, 77.707063847), (-12.811239812, 73.557833254))
            ThreePointArc((-12.811239812, 73.557833254), (-7.311245407, 69.561853415), (-2.76225, 74.614024644))
        make_face()
    extrude(amount=BOSS_EXTRUDE1_DEPTH)

    # Sketch2 → Cut-Extrude1 (cut, through all)
    with BuildSketch(Plane.XY.offset(6.35)):
        with Locations((-37, 0)):
            Circle(SKETCH2_R)
        with Locations((-18.5, 32.04293994)):
            Circle(SKETCH2_R)
        with Locations((18.5, 32.04293994)):
            Circle(SKETCH2_R)
        with Locations((37, 0)):
            Circle(SKETCH2_R)
        with Locations((18.5, -32.04293994)):
            Circle(SKETCH2_R)
        with Locations((-18.5, -32.04293994)):
            Circle(SKETCH2_R)
        with BuildLine():
            ThreePointArc((-11.27698735, 14.154471469), (-15.672894745, 9.04875), (-17.896625544, 2.688921789))
            ThreePointArc((-17.896625544, 2.688921789), (-28.728141104, -16.5862), (-6.619638194, -16.843393258))
            ThreePointArc((-6.619638194, -16.843393258), (0, -18.0975), (6.619638194, -16.843393258))
            ThreePointArc((6.619638194, -16.843393258), (28.728141104, -16.5862), (17.896625544, 2.688921789))
            ThreePointArc((17.896625544, 2.688921789), (15.672894745, 9.04875), (11.27698735, 14.154471469))
            ThreePointArc((11.27698735, 14.154471469), (0, 33.1724), (-11.27698735, 14.154471469))
        make_face()
    extrude(amount=-CUT_EXTRUDE1_DEPTH, mode=Mode.SUBTRACT)


solid = part.part
